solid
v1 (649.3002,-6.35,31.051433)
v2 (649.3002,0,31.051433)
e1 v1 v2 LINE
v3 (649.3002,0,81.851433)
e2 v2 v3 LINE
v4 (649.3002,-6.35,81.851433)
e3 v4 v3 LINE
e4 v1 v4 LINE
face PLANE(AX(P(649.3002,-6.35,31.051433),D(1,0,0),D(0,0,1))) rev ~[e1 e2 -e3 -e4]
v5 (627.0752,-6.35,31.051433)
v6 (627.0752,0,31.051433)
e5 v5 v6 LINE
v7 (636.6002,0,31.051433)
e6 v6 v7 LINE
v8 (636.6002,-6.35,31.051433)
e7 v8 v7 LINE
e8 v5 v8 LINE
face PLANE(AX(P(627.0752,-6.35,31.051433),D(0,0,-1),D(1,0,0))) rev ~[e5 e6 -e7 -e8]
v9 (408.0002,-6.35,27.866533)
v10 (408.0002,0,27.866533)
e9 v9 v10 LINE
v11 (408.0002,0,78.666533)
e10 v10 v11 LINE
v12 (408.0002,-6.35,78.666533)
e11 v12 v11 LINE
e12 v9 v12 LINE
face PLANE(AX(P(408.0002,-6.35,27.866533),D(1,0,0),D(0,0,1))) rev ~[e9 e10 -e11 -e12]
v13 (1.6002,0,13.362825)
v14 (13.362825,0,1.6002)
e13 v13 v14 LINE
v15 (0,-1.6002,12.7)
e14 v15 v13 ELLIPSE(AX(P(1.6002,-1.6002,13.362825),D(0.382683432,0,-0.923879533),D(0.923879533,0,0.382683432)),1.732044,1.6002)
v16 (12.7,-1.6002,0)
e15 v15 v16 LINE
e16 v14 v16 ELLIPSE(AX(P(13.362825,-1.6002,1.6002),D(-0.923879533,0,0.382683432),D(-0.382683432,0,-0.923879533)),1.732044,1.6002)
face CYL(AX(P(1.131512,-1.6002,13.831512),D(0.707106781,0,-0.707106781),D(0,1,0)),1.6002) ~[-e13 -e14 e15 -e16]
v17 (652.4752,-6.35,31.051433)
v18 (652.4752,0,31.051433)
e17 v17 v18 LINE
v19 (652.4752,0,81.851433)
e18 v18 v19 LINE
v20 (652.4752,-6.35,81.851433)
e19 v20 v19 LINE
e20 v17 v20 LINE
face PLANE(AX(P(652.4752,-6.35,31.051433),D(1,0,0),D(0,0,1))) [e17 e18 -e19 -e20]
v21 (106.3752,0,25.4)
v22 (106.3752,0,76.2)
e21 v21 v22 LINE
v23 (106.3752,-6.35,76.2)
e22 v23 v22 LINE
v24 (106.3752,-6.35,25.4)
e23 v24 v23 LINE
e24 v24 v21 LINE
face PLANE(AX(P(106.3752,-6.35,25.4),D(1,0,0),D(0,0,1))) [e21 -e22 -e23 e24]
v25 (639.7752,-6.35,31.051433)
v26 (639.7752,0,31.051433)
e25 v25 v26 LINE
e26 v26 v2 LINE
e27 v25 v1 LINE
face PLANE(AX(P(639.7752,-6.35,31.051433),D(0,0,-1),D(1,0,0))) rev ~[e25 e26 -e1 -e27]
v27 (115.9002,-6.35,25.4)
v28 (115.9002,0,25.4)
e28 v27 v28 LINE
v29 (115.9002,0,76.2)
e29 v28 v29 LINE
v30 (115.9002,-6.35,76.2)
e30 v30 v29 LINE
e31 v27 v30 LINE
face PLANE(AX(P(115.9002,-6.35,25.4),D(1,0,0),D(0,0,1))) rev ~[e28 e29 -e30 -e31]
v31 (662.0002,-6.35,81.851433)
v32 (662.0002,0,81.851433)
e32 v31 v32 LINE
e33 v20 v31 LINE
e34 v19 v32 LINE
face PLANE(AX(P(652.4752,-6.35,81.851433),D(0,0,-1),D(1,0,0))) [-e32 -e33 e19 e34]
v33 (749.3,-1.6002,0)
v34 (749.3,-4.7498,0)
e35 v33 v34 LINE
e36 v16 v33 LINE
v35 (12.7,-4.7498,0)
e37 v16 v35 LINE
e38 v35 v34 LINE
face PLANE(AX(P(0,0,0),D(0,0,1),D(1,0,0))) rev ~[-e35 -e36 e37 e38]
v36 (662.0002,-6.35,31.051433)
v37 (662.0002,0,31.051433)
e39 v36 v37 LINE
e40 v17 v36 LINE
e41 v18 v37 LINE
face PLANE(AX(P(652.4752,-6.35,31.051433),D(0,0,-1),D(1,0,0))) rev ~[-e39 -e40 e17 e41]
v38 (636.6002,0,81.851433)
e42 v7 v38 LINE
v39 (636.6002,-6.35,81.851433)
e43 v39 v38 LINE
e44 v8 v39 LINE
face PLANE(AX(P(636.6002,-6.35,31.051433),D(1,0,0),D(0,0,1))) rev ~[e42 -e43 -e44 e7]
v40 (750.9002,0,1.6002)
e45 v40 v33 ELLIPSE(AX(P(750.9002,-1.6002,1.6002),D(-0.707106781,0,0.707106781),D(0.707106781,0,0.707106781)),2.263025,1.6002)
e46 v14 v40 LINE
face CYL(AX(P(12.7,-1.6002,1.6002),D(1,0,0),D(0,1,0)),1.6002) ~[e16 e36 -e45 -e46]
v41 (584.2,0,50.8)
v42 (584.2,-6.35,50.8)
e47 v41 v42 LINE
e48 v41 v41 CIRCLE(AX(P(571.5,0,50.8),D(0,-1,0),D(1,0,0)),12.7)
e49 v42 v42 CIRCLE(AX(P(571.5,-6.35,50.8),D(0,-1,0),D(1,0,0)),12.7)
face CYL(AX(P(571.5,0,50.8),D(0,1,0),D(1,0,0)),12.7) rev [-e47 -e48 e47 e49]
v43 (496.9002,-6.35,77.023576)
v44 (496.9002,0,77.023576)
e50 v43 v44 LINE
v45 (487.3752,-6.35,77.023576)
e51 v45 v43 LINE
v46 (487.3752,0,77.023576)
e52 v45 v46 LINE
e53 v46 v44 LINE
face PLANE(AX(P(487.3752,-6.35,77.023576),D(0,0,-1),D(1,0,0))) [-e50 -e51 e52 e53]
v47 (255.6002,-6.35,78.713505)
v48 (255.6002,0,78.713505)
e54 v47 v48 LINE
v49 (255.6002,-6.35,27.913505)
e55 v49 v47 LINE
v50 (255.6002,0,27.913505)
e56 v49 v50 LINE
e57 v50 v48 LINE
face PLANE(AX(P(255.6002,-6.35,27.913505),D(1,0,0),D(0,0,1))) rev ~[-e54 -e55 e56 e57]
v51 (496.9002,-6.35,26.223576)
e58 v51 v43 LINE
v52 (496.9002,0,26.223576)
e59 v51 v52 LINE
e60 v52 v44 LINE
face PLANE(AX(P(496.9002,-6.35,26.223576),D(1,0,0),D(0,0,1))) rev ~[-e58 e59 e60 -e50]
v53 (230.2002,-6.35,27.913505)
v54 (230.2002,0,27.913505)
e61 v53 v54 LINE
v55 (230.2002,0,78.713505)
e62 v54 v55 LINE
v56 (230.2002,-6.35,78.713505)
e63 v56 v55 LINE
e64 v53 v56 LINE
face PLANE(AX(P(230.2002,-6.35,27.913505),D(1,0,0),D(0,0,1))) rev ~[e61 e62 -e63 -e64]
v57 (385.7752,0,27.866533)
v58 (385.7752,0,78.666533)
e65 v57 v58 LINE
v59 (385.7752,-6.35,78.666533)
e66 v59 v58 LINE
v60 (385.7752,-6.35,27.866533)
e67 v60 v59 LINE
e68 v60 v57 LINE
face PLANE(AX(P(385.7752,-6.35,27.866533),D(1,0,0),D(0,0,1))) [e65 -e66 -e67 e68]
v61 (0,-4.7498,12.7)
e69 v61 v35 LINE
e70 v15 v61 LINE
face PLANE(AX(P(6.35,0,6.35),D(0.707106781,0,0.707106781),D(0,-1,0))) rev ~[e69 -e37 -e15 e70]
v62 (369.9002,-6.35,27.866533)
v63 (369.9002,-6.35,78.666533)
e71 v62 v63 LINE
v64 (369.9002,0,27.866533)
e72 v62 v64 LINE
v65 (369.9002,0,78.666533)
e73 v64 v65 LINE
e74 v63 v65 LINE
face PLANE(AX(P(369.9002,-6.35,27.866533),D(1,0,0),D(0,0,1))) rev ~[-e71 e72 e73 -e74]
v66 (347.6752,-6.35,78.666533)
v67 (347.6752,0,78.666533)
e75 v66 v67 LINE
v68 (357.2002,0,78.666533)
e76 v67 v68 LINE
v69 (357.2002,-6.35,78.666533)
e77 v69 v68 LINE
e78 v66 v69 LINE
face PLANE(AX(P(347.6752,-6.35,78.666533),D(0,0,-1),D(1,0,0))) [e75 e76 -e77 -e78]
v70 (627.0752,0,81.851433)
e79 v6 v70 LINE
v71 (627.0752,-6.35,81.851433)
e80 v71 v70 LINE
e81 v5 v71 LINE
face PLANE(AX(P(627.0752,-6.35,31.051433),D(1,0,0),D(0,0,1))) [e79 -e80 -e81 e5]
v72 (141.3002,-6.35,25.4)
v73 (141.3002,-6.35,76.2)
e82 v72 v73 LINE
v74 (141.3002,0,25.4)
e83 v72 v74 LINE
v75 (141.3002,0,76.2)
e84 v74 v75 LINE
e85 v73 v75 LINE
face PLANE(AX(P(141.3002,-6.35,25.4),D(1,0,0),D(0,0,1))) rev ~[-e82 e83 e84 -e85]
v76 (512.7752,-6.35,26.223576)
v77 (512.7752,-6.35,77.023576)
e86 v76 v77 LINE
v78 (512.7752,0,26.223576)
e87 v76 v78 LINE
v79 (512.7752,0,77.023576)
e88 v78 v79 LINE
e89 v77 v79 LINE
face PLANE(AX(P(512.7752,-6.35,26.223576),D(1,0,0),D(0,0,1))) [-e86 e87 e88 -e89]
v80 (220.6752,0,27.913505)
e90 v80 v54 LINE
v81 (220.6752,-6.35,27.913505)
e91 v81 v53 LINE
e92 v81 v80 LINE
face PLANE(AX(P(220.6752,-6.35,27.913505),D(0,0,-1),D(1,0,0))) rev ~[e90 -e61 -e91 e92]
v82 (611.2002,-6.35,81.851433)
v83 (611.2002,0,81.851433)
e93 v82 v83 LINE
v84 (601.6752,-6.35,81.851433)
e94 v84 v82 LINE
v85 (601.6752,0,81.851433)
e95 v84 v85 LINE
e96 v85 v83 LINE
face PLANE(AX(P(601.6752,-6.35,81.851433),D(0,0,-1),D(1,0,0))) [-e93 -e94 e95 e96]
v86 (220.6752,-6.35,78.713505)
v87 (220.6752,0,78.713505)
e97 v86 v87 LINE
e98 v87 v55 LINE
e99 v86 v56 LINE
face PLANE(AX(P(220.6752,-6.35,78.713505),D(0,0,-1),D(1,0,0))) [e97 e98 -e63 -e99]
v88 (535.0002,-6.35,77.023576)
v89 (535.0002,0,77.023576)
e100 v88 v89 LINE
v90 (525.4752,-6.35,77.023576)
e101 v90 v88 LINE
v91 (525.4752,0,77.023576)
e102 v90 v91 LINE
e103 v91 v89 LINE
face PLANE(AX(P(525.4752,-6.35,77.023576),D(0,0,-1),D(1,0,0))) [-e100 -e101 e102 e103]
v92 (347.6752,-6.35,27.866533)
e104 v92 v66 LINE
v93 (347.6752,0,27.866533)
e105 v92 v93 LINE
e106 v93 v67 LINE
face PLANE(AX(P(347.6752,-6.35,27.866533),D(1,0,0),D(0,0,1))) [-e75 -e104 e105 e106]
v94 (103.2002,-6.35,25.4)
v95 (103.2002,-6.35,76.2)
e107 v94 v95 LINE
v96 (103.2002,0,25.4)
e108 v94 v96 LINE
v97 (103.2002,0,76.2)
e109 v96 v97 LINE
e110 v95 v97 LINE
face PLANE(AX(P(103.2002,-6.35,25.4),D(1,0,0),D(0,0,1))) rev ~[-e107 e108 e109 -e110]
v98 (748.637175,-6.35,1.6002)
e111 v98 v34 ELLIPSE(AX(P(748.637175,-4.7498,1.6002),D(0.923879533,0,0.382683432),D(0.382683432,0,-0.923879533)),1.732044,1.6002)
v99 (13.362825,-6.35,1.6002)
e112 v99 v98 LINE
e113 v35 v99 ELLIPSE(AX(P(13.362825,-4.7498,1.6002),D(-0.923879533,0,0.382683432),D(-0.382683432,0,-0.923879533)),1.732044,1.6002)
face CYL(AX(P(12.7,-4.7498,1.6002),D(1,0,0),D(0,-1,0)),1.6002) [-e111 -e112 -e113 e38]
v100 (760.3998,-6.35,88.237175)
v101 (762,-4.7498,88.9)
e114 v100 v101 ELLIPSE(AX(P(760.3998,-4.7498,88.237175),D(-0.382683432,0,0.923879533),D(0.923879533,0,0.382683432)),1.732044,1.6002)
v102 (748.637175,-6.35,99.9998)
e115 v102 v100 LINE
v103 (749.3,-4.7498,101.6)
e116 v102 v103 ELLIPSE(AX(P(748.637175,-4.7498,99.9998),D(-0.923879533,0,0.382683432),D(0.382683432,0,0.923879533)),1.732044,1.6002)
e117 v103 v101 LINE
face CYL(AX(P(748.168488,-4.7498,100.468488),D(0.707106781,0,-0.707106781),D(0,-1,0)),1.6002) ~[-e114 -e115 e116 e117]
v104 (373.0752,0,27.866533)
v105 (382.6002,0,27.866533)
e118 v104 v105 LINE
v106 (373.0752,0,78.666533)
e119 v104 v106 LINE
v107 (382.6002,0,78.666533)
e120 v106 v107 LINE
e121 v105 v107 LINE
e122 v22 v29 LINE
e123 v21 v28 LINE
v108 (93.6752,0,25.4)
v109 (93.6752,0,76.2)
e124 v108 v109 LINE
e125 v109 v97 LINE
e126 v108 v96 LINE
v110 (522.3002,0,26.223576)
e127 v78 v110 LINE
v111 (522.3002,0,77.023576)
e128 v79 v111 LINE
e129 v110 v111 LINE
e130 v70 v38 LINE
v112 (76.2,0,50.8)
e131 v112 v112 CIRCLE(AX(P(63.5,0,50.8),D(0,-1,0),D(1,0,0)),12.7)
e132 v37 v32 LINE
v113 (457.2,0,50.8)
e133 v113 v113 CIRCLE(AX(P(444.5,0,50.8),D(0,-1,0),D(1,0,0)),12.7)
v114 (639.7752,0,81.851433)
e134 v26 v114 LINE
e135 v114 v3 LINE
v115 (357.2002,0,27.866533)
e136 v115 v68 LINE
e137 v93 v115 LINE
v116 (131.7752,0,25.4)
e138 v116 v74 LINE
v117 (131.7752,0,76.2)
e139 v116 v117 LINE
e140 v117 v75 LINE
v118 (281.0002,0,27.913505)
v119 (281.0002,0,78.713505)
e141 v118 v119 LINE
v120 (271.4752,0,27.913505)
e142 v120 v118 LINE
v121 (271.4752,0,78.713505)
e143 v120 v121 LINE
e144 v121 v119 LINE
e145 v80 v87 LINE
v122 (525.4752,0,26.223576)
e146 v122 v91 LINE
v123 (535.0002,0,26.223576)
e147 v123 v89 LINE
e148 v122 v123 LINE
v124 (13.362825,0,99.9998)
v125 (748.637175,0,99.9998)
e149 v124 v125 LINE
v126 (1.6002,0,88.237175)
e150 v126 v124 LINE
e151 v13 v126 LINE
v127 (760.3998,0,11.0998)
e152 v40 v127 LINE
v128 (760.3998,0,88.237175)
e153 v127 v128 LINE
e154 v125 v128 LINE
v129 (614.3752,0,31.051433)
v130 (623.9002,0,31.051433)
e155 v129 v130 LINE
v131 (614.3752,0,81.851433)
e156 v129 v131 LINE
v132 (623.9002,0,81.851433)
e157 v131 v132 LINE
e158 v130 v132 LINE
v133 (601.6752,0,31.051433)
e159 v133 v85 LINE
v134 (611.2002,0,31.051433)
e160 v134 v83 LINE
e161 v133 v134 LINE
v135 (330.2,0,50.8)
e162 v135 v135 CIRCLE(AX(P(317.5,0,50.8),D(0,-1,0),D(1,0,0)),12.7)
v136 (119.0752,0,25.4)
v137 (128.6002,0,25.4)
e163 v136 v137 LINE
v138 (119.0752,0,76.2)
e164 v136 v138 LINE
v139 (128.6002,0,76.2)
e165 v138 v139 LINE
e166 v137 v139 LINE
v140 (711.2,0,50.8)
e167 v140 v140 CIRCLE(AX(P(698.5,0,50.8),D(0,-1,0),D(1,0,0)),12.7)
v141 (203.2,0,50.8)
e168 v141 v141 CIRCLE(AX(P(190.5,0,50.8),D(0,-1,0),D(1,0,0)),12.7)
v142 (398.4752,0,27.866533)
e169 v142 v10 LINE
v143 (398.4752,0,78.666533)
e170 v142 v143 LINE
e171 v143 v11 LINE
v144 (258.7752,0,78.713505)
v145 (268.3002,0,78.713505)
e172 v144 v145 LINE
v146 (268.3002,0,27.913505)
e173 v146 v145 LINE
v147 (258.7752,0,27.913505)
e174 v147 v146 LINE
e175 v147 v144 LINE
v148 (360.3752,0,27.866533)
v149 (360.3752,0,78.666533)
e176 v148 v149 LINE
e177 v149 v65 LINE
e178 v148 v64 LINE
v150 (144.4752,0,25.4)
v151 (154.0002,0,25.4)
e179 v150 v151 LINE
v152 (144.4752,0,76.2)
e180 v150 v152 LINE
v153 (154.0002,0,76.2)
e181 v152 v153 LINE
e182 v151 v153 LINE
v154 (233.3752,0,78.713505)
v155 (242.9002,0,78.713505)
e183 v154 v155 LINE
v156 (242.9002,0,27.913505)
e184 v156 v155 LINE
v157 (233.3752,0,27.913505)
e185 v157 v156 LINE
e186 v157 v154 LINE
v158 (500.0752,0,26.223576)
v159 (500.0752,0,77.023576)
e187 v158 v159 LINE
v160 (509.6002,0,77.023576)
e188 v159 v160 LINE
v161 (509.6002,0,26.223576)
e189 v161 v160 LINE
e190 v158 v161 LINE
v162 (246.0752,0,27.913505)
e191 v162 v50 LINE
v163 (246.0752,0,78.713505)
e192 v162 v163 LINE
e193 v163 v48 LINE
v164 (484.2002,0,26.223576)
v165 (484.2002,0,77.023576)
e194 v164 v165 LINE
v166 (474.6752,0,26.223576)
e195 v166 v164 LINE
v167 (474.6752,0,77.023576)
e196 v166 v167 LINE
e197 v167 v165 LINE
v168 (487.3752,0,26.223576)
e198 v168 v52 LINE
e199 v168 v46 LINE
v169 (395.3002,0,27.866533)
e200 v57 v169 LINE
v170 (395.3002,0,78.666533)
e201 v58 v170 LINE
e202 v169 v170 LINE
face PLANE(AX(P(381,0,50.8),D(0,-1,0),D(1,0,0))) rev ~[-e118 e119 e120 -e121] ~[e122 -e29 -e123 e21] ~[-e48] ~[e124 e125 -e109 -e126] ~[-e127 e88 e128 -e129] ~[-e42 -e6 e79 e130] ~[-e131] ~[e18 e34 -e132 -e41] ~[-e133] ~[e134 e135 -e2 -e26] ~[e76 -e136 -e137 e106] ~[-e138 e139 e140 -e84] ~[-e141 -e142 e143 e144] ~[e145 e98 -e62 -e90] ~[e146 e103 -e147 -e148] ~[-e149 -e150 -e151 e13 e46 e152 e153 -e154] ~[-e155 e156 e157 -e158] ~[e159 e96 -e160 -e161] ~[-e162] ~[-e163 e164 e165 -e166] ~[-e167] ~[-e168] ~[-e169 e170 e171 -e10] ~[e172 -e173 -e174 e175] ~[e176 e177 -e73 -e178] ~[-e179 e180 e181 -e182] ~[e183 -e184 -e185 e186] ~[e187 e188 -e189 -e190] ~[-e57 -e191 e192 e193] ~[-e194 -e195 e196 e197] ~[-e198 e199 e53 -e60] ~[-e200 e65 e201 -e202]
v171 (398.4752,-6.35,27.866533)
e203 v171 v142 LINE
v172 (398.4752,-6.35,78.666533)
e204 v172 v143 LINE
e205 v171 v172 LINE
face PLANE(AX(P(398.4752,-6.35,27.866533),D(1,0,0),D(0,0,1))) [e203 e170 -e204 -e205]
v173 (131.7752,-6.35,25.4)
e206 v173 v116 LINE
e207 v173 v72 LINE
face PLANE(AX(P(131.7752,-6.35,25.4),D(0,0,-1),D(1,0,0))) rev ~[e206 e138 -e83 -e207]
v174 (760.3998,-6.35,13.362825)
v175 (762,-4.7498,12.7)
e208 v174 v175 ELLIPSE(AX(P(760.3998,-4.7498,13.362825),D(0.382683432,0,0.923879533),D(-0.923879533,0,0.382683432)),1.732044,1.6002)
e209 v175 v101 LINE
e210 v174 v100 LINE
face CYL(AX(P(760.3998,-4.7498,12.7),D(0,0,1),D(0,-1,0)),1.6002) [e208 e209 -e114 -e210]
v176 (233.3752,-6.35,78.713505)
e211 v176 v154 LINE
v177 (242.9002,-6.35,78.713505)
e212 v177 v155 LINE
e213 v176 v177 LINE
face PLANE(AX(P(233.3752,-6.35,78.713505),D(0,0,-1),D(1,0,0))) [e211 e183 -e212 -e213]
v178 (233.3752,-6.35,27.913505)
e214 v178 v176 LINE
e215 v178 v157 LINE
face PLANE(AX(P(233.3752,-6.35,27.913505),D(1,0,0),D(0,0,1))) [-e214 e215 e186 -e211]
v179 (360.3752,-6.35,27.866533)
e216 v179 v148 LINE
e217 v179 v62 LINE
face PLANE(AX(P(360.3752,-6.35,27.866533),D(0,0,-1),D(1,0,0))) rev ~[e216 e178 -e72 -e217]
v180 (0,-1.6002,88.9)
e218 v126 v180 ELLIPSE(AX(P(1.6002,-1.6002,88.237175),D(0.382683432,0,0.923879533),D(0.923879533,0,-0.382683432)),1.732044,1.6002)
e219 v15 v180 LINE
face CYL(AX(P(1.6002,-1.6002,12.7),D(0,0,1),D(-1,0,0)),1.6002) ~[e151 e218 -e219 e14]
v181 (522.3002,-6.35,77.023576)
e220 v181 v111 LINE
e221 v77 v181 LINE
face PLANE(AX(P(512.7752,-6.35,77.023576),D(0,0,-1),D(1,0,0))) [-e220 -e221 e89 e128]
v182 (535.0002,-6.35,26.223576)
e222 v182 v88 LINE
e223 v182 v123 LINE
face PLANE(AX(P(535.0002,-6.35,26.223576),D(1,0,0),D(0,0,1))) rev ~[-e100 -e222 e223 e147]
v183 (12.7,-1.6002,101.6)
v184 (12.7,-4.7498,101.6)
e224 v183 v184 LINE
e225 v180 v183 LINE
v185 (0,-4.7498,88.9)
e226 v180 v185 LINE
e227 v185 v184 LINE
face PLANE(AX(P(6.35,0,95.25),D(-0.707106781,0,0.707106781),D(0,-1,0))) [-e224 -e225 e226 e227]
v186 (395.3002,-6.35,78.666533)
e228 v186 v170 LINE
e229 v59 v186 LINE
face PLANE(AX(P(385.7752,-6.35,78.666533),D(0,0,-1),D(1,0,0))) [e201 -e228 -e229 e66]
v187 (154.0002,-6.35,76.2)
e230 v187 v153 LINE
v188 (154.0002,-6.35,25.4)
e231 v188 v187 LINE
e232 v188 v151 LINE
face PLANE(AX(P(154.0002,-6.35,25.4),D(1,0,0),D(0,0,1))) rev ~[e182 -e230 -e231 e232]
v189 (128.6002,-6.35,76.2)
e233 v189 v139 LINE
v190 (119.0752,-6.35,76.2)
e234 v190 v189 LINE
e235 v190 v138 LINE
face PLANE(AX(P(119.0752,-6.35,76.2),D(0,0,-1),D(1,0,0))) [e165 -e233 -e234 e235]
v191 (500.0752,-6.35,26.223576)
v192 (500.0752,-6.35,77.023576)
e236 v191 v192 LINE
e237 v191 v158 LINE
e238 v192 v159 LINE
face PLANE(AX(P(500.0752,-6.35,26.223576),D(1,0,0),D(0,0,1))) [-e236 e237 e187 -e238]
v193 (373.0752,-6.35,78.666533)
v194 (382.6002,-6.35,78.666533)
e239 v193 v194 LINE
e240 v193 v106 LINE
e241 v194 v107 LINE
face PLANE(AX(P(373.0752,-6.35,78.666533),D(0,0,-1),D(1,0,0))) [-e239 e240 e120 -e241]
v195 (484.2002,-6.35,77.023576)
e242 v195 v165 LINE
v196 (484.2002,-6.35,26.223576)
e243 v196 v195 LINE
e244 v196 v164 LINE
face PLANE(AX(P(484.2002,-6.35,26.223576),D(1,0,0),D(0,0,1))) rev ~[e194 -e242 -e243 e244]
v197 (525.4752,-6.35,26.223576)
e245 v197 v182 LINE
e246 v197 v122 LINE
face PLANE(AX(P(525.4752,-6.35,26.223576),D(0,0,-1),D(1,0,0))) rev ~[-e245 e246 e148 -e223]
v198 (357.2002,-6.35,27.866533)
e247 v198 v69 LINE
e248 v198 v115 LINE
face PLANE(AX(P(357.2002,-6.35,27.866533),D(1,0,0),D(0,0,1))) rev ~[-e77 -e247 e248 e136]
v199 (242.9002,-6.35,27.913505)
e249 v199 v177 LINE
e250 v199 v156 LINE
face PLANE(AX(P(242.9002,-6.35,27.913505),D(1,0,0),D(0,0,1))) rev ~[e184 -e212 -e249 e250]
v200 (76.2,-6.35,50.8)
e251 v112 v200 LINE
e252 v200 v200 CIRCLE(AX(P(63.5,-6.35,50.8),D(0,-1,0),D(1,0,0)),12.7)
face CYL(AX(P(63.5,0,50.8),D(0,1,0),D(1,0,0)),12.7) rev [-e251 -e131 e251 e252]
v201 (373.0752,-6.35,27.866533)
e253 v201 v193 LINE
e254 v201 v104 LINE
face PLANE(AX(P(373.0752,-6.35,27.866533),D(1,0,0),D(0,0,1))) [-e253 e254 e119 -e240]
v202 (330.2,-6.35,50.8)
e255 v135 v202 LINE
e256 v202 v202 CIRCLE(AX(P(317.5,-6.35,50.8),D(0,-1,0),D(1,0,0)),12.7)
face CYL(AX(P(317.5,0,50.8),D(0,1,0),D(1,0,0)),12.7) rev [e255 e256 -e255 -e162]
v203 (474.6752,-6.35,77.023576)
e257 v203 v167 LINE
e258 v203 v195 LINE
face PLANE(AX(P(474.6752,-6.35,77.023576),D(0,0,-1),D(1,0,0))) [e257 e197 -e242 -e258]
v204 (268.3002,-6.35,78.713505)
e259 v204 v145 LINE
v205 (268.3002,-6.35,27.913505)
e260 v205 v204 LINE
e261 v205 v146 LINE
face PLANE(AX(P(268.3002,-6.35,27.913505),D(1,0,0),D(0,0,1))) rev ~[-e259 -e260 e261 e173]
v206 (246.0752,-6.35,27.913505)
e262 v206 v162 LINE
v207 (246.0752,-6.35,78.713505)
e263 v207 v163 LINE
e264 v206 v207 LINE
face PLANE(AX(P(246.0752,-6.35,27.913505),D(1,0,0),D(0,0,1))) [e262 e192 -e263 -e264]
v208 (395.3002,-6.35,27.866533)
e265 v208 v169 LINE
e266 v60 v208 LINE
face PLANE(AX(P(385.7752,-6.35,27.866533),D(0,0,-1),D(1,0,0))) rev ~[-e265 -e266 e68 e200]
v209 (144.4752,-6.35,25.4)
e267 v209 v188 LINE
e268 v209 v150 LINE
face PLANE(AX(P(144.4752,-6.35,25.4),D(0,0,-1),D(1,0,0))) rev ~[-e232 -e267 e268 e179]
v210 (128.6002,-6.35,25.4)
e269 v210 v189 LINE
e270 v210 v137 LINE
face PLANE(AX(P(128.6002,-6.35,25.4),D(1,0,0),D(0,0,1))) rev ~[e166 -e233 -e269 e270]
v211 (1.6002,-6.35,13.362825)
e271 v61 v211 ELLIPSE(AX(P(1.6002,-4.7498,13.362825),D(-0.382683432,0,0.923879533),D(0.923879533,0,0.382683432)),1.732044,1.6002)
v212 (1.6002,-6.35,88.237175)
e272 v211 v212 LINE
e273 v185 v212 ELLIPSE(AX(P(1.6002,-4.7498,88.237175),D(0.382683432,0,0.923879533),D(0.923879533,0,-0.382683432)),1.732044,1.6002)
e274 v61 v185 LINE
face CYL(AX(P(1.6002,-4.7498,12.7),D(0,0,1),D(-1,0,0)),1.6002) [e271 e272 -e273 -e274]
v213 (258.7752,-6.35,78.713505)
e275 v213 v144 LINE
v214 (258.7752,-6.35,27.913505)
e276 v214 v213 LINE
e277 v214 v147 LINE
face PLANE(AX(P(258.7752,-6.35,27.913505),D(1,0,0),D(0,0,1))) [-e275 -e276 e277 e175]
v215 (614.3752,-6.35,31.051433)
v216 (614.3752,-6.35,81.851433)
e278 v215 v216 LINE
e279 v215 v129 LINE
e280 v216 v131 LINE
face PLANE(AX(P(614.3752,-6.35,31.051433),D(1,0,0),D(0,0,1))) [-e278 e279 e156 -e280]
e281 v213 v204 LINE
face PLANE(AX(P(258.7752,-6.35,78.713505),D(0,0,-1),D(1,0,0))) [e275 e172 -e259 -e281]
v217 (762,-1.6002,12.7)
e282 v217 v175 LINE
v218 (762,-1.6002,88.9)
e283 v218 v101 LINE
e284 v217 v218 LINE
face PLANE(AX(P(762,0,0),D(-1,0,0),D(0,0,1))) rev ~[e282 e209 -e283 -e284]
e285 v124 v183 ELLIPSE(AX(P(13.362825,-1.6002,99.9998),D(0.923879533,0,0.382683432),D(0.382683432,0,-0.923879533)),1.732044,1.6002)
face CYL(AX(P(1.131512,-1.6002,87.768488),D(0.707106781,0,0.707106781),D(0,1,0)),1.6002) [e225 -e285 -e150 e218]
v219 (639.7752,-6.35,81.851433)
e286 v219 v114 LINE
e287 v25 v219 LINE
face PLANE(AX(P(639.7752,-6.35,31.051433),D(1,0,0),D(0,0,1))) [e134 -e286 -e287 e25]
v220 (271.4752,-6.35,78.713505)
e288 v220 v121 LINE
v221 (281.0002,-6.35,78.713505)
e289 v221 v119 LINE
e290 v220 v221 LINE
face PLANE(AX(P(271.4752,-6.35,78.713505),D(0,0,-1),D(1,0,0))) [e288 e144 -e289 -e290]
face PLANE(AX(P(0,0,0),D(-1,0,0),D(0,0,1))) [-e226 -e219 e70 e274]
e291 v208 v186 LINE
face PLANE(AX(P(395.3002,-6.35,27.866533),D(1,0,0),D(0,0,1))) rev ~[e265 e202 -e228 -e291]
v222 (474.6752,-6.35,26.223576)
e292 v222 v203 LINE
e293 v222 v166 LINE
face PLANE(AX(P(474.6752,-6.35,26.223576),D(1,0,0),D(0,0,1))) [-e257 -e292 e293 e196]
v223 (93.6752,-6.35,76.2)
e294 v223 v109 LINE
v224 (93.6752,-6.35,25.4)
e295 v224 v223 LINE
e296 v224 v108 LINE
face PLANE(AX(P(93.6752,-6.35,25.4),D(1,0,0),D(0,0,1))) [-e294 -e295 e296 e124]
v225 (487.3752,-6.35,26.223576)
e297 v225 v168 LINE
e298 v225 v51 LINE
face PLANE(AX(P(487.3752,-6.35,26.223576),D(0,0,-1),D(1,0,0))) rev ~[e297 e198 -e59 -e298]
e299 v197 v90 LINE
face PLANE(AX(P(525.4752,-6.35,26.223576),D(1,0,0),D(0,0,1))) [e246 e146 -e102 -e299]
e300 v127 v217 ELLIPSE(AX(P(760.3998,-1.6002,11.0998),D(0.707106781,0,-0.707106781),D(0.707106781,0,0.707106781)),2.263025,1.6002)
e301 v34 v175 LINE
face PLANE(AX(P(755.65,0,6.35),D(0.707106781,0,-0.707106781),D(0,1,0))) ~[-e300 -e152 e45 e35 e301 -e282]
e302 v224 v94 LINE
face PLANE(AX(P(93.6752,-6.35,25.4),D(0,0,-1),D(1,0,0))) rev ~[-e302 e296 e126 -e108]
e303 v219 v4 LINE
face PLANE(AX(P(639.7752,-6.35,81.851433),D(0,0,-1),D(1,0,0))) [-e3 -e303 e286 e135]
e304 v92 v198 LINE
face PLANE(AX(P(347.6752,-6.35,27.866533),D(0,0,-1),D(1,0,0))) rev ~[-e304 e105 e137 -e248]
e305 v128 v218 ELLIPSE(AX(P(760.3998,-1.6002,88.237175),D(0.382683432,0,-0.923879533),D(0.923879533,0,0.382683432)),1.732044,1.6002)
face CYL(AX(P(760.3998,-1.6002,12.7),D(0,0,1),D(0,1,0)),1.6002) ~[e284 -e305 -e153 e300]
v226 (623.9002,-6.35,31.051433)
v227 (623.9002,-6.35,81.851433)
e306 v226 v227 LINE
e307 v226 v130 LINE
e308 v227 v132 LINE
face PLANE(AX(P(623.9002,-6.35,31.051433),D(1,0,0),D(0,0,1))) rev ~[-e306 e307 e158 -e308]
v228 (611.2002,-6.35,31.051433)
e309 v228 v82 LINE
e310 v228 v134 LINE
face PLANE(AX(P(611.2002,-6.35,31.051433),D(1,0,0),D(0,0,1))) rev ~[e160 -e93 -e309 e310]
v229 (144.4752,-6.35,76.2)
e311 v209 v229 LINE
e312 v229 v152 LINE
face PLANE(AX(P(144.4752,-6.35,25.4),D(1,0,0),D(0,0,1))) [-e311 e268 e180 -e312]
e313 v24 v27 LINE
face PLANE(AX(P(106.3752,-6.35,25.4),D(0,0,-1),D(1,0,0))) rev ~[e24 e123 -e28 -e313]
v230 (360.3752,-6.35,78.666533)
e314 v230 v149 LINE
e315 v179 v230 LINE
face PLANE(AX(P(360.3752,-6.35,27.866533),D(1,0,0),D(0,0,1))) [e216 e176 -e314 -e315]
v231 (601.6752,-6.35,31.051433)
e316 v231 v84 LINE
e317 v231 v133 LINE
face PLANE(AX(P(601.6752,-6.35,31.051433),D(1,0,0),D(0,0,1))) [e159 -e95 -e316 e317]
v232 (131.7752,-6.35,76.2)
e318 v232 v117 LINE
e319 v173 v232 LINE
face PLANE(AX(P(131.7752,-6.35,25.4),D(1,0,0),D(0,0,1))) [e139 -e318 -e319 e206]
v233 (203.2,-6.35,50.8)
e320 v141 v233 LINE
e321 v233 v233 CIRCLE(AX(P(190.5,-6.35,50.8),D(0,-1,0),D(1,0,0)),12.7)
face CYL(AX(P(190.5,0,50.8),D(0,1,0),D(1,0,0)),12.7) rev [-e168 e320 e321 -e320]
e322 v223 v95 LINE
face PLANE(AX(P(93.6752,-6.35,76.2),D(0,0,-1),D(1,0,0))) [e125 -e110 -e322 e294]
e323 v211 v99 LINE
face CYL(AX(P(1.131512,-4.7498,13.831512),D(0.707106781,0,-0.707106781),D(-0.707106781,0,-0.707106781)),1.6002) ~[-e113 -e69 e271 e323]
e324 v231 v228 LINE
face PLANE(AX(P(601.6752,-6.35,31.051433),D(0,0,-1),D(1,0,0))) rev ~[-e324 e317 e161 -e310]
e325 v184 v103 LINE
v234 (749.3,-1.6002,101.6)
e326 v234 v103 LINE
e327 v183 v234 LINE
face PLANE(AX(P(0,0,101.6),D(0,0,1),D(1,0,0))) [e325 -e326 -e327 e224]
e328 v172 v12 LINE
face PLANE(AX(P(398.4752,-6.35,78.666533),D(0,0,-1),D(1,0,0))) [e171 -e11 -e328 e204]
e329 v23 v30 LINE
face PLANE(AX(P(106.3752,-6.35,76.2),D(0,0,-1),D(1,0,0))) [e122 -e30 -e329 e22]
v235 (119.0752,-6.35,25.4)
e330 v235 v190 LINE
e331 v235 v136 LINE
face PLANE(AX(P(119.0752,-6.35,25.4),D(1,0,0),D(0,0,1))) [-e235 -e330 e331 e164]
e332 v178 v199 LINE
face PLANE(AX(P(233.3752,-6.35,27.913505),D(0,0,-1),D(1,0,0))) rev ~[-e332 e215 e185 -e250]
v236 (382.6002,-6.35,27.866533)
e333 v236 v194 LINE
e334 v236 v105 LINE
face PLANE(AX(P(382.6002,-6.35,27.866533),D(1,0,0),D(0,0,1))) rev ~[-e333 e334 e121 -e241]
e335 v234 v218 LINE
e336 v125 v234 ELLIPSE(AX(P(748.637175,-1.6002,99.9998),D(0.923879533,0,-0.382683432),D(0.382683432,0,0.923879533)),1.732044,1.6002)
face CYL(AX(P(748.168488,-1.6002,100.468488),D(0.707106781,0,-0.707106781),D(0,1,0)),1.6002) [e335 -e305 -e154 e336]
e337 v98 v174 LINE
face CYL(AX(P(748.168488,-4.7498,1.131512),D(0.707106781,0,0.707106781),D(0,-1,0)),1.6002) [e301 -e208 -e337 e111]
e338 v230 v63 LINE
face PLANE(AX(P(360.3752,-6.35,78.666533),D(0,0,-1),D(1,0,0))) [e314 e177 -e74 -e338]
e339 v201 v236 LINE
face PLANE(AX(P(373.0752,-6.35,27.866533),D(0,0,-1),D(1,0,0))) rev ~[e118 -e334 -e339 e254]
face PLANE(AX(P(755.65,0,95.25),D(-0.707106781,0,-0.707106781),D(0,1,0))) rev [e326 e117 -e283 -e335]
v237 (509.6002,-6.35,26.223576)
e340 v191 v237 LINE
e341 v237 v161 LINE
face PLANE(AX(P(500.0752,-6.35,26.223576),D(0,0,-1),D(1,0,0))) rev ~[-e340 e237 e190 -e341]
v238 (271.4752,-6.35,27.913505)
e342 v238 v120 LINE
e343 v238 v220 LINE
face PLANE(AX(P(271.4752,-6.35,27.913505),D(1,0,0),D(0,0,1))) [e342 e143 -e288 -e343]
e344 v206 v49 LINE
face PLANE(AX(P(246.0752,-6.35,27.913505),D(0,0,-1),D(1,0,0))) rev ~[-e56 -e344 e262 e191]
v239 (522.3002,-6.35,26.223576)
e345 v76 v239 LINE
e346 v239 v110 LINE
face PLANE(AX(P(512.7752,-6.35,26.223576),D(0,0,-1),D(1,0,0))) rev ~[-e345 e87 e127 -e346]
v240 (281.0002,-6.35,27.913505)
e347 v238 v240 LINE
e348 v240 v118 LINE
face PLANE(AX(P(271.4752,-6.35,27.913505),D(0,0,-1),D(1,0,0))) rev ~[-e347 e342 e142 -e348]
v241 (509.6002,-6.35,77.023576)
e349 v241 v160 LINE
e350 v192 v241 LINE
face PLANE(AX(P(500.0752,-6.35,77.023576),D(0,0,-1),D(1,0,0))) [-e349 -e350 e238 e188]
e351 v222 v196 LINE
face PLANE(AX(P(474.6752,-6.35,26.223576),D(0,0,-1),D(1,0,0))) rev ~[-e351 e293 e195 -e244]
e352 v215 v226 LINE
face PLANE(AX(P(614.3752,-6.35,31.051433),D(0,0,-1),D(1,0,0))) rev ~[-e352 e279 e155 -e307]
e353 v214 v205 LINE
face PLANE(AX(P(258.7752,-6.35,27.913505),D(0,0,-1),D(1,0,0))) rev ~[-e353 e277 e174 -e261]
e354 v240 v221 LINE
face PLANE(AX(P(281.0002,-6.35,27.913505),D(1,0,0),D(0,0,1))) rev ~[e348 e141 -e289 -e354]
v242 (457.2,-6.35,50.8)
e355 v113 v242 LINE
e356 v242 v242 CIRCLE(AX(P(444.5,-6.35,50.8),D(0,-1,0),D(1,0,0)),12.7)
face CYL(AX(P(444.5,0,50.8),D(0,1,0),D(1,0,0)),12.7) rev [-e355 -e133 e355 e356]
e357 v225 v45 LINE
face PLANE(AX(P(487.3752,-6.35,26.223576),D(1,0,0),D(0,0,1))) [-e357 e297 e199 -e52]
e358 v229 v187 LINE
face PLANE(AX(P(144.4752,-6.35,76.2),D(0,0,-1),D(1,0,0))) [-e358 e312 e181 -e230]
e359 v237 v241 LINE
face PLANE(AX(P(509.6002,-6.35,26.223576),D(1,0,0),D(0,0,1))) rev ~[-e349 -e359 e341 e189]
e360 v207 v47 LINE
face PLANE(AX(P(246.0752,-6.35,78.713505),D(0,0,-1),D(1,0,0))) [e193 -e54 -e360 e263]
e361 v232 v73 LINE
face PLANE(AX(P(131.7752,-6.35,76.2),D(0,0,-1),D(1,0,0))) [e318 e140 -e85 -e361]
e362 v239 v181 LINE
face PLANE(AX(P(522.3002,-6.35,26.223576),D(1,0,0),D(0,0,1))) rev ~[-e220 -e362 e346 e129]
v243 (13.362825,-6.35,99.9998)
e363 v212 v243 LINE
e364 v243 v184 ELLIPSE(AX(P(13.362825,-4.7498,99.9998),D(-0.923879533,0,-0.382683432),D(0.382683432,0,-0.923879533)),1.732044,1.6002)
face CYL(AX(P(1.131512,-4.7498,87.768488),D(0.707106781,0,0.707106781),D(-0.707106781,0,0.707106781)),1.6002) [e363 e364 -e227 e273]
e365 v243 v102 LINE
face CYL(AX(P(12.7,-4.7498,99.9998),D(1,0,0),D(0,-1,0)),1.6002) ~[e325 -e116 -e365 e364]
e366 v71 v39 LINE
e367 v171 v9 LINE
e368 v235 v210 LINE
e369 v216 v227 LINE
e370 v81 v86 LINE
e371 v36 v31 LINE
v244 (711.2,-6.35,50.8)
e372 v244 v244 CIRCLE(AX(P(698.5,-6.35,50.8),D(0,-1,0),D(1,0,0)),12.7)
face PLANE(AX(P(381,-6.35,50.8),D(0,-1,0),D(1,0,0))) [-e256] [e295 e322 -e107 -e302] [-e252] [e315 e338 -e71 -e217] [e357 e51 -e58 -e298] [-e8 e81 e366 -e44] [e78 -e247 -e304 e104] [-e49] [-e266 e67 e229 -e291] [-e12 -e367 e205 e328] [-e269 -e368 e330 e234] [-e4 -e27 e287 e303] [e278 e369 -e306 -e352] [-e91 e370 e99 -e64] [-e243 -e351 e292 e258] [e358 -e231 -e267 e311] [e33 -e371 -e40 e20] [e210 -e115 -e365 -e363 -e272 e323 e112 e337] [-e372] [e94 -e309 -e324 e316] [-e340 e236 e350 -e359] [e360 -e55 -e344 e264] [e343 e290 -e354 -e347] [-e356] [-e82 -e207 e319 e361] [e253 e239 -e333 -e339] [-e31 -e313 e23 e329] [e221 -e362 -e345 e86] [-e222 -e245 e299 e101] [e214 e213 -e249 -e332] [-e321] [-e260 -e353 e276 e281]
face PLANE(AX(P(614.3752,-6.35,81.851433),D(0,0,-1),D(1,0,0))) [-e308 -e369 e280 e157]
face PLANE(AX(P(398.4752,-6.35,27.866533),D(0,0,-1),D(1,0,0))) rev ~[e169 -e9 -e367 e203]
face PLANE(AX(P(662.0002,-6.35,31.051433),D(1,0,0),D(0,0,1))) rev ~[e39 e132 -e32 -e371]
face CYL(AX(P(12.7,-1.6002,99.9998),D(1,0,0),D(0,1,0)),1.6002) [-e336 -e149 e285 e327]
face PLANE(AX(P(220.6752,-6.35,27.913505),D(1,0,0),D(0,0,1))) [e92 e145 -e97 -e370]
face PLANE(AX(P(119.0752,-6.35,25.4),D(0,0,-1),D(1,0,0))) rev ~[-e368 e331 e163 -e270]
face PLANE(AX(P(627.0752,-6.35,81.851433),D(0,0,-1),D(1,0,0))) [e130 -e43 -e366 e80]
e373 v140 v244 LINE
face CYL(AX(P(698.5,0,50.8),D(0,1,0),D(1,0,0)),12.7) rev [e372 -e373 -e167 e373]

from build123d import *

# Parameters (mm, degrees)
F0_W     = 762
F0_H     = 101.6
F0_R     = 12.7
F1_DEPTH = 6.35
F2_W     = 9.525
F2_H     = 50.8
F3_DEPTH = 6.351
F4_SIZE  = 12.7
F5_R     = 1.6002


with BuildPart() as f1:
    # F0 (on Front) → F1 (new body)
    with BuildSketch(Plane.XZ):
        with Locations((381, 50.8)):
            Rectangle(F0_W, F0_H)
        with Locations((63.5, 50.8)):
            Circle(F0_R, mode=Mode.SUBTRACT)
        with Locations((190.5, 50.8)):
            Circle(F0_R, mode=Mode.SUBTRACT)
        with Locations((317.5, 50.8)):
            Circle(F0_R, mode=Mode.SUBTRACT)
        with Locations((444.5, 50.8)):
            Circle(F0_R, mode=Mode.SUBTRACT)
        with Locations((571.5, 50.8)):
            Circle(F0_R, mode=Mode.SUBTRACT)
        with Locations((698.5, 50.8)):
            Circle(F0_R, mode=Mode.SUBTRACT)
    extrude(amount=F1_DEPTH)

    # F2 (on face) → F3 (cut, through all)
    with BuildSketch(Plane.XZ.offset(6.35)):
        with Locations((98.4377, 50.8)):
            Rectangle(F2_W, F2_H)
        with Locations((111.1377, 50.8)):
            Rectangle(F2_W, F2_H)
        with Locations((123.8377, 50.8)):
            Rectangle(F2_W, F2_H)
        with Locations((136.5377, 50.8)):
            Rectangle(F2_W, F2_H)
        with Locations((149.2377, 50.8)):
            Rectangle(F2_W, F2_H)
        with Locations((225.4377, 53.3135051852)):
            Rectangle(F2_W, F2_H)
        with Locations((238.1377, 53.3135051852)):
            Rectangle(F2_W, F2_H)
        with Locations((250.8377, 53.3135051852)):
            Rectangle(F2_W, F2_H)
        with Locations((263.5377, 53.3135051852)):
            Rectangle(F2_W, F2_H)
        with Locations((276.2377, 53.3135051852)):
            Rectangle(F2_W, F2_H)
        with Locations((352.4377, 53.2665329998)):
            Rectangle(F2_W, F2_H)
        with Locations((365.1377, 53.2665329998)):
            Rectangle(F2_W, F2_H)
        with Locations((377.8377, 53.2665329998)):
            Rectangle(F2_W, F2_H)
        with Locations((390.5377, 53.2665329998)):
            Rectangle(F2_W, F2_H)
        with Locations((403.2377, 53.2665329998)):
            Rectangle(F2_W, F2_H)
        with Locations((479.4377, 51.6235756701)):
            Rectangle(F2_W, F2_H)
        with Locations((492.1377, 51.6235756701)):
            Rectangle(F2_W, F2_H)
        with Locations((504.8377, 51.6235756701)):
            Rectangle(F2_W, F2_H)
        with Locations((517.5377, 51.6235756701)):
            Rectangle(F2_W, F2_H)
        with Locations((530.2377, 51.6235756701)):
            Rectangle(F2_W, F2_H)
        with Locations((606.4377, 56.4514326876)):
            Rectangle(F2_W, F2_H)
        with Locations((619.1377, 56.4514326876)):
            Rectangle(F2_W, F2_H)
        with Locations((631.8377, 56.4514326876)):
            Rectangle(F2_W, F2_H)
        with Locations((644.5377, 56.4514326876)):
            Rectangle(F2_W, F2_H)
        with Locations((657.2377, 56.4514326876)):
            Rectangle(F2_W, F2_H)
    extrude(amount=-F3_DEPTH, mode=Mode.SUBTRACT)

    # F4
    f4_edges = [f1.edges().sort_by_distance(p)[0] for p in [
        (0, -3.175, 101.6),
        (0, -3.175, 0),
        (762, -3.175, 0),
        (762, -3.175, 101.6),
    ]]
    chamfer(f4_edges, length=F4_SIZE)

    # F5
    f5_edges = [f1.edges().sort_by_distance(p)[0] for p in [
        (381, -6.35, 101.6),
        (381, 0, 101.6),
        (6.35, -6.35, 95.25),
        (6.35, 0, 95.25),
        (0, -6.35, 50.8),
        (0, 0, 50.8),
        (6.35, -6.35, 6.35),
        (6.35, 0, 6.35),
        (381, -6.35, 0),
        (381, 0, 0),
        (755.65, -6.35, 95.25),
        (755.65, 0, 95.25),
        (762, 0, 50.8),
        (762, -6.35, 50.8),
        (755.65, -6.35, 6.35),
    ]]
    fillet(f5_edges, radius=F5_R)


solid = f1.part
